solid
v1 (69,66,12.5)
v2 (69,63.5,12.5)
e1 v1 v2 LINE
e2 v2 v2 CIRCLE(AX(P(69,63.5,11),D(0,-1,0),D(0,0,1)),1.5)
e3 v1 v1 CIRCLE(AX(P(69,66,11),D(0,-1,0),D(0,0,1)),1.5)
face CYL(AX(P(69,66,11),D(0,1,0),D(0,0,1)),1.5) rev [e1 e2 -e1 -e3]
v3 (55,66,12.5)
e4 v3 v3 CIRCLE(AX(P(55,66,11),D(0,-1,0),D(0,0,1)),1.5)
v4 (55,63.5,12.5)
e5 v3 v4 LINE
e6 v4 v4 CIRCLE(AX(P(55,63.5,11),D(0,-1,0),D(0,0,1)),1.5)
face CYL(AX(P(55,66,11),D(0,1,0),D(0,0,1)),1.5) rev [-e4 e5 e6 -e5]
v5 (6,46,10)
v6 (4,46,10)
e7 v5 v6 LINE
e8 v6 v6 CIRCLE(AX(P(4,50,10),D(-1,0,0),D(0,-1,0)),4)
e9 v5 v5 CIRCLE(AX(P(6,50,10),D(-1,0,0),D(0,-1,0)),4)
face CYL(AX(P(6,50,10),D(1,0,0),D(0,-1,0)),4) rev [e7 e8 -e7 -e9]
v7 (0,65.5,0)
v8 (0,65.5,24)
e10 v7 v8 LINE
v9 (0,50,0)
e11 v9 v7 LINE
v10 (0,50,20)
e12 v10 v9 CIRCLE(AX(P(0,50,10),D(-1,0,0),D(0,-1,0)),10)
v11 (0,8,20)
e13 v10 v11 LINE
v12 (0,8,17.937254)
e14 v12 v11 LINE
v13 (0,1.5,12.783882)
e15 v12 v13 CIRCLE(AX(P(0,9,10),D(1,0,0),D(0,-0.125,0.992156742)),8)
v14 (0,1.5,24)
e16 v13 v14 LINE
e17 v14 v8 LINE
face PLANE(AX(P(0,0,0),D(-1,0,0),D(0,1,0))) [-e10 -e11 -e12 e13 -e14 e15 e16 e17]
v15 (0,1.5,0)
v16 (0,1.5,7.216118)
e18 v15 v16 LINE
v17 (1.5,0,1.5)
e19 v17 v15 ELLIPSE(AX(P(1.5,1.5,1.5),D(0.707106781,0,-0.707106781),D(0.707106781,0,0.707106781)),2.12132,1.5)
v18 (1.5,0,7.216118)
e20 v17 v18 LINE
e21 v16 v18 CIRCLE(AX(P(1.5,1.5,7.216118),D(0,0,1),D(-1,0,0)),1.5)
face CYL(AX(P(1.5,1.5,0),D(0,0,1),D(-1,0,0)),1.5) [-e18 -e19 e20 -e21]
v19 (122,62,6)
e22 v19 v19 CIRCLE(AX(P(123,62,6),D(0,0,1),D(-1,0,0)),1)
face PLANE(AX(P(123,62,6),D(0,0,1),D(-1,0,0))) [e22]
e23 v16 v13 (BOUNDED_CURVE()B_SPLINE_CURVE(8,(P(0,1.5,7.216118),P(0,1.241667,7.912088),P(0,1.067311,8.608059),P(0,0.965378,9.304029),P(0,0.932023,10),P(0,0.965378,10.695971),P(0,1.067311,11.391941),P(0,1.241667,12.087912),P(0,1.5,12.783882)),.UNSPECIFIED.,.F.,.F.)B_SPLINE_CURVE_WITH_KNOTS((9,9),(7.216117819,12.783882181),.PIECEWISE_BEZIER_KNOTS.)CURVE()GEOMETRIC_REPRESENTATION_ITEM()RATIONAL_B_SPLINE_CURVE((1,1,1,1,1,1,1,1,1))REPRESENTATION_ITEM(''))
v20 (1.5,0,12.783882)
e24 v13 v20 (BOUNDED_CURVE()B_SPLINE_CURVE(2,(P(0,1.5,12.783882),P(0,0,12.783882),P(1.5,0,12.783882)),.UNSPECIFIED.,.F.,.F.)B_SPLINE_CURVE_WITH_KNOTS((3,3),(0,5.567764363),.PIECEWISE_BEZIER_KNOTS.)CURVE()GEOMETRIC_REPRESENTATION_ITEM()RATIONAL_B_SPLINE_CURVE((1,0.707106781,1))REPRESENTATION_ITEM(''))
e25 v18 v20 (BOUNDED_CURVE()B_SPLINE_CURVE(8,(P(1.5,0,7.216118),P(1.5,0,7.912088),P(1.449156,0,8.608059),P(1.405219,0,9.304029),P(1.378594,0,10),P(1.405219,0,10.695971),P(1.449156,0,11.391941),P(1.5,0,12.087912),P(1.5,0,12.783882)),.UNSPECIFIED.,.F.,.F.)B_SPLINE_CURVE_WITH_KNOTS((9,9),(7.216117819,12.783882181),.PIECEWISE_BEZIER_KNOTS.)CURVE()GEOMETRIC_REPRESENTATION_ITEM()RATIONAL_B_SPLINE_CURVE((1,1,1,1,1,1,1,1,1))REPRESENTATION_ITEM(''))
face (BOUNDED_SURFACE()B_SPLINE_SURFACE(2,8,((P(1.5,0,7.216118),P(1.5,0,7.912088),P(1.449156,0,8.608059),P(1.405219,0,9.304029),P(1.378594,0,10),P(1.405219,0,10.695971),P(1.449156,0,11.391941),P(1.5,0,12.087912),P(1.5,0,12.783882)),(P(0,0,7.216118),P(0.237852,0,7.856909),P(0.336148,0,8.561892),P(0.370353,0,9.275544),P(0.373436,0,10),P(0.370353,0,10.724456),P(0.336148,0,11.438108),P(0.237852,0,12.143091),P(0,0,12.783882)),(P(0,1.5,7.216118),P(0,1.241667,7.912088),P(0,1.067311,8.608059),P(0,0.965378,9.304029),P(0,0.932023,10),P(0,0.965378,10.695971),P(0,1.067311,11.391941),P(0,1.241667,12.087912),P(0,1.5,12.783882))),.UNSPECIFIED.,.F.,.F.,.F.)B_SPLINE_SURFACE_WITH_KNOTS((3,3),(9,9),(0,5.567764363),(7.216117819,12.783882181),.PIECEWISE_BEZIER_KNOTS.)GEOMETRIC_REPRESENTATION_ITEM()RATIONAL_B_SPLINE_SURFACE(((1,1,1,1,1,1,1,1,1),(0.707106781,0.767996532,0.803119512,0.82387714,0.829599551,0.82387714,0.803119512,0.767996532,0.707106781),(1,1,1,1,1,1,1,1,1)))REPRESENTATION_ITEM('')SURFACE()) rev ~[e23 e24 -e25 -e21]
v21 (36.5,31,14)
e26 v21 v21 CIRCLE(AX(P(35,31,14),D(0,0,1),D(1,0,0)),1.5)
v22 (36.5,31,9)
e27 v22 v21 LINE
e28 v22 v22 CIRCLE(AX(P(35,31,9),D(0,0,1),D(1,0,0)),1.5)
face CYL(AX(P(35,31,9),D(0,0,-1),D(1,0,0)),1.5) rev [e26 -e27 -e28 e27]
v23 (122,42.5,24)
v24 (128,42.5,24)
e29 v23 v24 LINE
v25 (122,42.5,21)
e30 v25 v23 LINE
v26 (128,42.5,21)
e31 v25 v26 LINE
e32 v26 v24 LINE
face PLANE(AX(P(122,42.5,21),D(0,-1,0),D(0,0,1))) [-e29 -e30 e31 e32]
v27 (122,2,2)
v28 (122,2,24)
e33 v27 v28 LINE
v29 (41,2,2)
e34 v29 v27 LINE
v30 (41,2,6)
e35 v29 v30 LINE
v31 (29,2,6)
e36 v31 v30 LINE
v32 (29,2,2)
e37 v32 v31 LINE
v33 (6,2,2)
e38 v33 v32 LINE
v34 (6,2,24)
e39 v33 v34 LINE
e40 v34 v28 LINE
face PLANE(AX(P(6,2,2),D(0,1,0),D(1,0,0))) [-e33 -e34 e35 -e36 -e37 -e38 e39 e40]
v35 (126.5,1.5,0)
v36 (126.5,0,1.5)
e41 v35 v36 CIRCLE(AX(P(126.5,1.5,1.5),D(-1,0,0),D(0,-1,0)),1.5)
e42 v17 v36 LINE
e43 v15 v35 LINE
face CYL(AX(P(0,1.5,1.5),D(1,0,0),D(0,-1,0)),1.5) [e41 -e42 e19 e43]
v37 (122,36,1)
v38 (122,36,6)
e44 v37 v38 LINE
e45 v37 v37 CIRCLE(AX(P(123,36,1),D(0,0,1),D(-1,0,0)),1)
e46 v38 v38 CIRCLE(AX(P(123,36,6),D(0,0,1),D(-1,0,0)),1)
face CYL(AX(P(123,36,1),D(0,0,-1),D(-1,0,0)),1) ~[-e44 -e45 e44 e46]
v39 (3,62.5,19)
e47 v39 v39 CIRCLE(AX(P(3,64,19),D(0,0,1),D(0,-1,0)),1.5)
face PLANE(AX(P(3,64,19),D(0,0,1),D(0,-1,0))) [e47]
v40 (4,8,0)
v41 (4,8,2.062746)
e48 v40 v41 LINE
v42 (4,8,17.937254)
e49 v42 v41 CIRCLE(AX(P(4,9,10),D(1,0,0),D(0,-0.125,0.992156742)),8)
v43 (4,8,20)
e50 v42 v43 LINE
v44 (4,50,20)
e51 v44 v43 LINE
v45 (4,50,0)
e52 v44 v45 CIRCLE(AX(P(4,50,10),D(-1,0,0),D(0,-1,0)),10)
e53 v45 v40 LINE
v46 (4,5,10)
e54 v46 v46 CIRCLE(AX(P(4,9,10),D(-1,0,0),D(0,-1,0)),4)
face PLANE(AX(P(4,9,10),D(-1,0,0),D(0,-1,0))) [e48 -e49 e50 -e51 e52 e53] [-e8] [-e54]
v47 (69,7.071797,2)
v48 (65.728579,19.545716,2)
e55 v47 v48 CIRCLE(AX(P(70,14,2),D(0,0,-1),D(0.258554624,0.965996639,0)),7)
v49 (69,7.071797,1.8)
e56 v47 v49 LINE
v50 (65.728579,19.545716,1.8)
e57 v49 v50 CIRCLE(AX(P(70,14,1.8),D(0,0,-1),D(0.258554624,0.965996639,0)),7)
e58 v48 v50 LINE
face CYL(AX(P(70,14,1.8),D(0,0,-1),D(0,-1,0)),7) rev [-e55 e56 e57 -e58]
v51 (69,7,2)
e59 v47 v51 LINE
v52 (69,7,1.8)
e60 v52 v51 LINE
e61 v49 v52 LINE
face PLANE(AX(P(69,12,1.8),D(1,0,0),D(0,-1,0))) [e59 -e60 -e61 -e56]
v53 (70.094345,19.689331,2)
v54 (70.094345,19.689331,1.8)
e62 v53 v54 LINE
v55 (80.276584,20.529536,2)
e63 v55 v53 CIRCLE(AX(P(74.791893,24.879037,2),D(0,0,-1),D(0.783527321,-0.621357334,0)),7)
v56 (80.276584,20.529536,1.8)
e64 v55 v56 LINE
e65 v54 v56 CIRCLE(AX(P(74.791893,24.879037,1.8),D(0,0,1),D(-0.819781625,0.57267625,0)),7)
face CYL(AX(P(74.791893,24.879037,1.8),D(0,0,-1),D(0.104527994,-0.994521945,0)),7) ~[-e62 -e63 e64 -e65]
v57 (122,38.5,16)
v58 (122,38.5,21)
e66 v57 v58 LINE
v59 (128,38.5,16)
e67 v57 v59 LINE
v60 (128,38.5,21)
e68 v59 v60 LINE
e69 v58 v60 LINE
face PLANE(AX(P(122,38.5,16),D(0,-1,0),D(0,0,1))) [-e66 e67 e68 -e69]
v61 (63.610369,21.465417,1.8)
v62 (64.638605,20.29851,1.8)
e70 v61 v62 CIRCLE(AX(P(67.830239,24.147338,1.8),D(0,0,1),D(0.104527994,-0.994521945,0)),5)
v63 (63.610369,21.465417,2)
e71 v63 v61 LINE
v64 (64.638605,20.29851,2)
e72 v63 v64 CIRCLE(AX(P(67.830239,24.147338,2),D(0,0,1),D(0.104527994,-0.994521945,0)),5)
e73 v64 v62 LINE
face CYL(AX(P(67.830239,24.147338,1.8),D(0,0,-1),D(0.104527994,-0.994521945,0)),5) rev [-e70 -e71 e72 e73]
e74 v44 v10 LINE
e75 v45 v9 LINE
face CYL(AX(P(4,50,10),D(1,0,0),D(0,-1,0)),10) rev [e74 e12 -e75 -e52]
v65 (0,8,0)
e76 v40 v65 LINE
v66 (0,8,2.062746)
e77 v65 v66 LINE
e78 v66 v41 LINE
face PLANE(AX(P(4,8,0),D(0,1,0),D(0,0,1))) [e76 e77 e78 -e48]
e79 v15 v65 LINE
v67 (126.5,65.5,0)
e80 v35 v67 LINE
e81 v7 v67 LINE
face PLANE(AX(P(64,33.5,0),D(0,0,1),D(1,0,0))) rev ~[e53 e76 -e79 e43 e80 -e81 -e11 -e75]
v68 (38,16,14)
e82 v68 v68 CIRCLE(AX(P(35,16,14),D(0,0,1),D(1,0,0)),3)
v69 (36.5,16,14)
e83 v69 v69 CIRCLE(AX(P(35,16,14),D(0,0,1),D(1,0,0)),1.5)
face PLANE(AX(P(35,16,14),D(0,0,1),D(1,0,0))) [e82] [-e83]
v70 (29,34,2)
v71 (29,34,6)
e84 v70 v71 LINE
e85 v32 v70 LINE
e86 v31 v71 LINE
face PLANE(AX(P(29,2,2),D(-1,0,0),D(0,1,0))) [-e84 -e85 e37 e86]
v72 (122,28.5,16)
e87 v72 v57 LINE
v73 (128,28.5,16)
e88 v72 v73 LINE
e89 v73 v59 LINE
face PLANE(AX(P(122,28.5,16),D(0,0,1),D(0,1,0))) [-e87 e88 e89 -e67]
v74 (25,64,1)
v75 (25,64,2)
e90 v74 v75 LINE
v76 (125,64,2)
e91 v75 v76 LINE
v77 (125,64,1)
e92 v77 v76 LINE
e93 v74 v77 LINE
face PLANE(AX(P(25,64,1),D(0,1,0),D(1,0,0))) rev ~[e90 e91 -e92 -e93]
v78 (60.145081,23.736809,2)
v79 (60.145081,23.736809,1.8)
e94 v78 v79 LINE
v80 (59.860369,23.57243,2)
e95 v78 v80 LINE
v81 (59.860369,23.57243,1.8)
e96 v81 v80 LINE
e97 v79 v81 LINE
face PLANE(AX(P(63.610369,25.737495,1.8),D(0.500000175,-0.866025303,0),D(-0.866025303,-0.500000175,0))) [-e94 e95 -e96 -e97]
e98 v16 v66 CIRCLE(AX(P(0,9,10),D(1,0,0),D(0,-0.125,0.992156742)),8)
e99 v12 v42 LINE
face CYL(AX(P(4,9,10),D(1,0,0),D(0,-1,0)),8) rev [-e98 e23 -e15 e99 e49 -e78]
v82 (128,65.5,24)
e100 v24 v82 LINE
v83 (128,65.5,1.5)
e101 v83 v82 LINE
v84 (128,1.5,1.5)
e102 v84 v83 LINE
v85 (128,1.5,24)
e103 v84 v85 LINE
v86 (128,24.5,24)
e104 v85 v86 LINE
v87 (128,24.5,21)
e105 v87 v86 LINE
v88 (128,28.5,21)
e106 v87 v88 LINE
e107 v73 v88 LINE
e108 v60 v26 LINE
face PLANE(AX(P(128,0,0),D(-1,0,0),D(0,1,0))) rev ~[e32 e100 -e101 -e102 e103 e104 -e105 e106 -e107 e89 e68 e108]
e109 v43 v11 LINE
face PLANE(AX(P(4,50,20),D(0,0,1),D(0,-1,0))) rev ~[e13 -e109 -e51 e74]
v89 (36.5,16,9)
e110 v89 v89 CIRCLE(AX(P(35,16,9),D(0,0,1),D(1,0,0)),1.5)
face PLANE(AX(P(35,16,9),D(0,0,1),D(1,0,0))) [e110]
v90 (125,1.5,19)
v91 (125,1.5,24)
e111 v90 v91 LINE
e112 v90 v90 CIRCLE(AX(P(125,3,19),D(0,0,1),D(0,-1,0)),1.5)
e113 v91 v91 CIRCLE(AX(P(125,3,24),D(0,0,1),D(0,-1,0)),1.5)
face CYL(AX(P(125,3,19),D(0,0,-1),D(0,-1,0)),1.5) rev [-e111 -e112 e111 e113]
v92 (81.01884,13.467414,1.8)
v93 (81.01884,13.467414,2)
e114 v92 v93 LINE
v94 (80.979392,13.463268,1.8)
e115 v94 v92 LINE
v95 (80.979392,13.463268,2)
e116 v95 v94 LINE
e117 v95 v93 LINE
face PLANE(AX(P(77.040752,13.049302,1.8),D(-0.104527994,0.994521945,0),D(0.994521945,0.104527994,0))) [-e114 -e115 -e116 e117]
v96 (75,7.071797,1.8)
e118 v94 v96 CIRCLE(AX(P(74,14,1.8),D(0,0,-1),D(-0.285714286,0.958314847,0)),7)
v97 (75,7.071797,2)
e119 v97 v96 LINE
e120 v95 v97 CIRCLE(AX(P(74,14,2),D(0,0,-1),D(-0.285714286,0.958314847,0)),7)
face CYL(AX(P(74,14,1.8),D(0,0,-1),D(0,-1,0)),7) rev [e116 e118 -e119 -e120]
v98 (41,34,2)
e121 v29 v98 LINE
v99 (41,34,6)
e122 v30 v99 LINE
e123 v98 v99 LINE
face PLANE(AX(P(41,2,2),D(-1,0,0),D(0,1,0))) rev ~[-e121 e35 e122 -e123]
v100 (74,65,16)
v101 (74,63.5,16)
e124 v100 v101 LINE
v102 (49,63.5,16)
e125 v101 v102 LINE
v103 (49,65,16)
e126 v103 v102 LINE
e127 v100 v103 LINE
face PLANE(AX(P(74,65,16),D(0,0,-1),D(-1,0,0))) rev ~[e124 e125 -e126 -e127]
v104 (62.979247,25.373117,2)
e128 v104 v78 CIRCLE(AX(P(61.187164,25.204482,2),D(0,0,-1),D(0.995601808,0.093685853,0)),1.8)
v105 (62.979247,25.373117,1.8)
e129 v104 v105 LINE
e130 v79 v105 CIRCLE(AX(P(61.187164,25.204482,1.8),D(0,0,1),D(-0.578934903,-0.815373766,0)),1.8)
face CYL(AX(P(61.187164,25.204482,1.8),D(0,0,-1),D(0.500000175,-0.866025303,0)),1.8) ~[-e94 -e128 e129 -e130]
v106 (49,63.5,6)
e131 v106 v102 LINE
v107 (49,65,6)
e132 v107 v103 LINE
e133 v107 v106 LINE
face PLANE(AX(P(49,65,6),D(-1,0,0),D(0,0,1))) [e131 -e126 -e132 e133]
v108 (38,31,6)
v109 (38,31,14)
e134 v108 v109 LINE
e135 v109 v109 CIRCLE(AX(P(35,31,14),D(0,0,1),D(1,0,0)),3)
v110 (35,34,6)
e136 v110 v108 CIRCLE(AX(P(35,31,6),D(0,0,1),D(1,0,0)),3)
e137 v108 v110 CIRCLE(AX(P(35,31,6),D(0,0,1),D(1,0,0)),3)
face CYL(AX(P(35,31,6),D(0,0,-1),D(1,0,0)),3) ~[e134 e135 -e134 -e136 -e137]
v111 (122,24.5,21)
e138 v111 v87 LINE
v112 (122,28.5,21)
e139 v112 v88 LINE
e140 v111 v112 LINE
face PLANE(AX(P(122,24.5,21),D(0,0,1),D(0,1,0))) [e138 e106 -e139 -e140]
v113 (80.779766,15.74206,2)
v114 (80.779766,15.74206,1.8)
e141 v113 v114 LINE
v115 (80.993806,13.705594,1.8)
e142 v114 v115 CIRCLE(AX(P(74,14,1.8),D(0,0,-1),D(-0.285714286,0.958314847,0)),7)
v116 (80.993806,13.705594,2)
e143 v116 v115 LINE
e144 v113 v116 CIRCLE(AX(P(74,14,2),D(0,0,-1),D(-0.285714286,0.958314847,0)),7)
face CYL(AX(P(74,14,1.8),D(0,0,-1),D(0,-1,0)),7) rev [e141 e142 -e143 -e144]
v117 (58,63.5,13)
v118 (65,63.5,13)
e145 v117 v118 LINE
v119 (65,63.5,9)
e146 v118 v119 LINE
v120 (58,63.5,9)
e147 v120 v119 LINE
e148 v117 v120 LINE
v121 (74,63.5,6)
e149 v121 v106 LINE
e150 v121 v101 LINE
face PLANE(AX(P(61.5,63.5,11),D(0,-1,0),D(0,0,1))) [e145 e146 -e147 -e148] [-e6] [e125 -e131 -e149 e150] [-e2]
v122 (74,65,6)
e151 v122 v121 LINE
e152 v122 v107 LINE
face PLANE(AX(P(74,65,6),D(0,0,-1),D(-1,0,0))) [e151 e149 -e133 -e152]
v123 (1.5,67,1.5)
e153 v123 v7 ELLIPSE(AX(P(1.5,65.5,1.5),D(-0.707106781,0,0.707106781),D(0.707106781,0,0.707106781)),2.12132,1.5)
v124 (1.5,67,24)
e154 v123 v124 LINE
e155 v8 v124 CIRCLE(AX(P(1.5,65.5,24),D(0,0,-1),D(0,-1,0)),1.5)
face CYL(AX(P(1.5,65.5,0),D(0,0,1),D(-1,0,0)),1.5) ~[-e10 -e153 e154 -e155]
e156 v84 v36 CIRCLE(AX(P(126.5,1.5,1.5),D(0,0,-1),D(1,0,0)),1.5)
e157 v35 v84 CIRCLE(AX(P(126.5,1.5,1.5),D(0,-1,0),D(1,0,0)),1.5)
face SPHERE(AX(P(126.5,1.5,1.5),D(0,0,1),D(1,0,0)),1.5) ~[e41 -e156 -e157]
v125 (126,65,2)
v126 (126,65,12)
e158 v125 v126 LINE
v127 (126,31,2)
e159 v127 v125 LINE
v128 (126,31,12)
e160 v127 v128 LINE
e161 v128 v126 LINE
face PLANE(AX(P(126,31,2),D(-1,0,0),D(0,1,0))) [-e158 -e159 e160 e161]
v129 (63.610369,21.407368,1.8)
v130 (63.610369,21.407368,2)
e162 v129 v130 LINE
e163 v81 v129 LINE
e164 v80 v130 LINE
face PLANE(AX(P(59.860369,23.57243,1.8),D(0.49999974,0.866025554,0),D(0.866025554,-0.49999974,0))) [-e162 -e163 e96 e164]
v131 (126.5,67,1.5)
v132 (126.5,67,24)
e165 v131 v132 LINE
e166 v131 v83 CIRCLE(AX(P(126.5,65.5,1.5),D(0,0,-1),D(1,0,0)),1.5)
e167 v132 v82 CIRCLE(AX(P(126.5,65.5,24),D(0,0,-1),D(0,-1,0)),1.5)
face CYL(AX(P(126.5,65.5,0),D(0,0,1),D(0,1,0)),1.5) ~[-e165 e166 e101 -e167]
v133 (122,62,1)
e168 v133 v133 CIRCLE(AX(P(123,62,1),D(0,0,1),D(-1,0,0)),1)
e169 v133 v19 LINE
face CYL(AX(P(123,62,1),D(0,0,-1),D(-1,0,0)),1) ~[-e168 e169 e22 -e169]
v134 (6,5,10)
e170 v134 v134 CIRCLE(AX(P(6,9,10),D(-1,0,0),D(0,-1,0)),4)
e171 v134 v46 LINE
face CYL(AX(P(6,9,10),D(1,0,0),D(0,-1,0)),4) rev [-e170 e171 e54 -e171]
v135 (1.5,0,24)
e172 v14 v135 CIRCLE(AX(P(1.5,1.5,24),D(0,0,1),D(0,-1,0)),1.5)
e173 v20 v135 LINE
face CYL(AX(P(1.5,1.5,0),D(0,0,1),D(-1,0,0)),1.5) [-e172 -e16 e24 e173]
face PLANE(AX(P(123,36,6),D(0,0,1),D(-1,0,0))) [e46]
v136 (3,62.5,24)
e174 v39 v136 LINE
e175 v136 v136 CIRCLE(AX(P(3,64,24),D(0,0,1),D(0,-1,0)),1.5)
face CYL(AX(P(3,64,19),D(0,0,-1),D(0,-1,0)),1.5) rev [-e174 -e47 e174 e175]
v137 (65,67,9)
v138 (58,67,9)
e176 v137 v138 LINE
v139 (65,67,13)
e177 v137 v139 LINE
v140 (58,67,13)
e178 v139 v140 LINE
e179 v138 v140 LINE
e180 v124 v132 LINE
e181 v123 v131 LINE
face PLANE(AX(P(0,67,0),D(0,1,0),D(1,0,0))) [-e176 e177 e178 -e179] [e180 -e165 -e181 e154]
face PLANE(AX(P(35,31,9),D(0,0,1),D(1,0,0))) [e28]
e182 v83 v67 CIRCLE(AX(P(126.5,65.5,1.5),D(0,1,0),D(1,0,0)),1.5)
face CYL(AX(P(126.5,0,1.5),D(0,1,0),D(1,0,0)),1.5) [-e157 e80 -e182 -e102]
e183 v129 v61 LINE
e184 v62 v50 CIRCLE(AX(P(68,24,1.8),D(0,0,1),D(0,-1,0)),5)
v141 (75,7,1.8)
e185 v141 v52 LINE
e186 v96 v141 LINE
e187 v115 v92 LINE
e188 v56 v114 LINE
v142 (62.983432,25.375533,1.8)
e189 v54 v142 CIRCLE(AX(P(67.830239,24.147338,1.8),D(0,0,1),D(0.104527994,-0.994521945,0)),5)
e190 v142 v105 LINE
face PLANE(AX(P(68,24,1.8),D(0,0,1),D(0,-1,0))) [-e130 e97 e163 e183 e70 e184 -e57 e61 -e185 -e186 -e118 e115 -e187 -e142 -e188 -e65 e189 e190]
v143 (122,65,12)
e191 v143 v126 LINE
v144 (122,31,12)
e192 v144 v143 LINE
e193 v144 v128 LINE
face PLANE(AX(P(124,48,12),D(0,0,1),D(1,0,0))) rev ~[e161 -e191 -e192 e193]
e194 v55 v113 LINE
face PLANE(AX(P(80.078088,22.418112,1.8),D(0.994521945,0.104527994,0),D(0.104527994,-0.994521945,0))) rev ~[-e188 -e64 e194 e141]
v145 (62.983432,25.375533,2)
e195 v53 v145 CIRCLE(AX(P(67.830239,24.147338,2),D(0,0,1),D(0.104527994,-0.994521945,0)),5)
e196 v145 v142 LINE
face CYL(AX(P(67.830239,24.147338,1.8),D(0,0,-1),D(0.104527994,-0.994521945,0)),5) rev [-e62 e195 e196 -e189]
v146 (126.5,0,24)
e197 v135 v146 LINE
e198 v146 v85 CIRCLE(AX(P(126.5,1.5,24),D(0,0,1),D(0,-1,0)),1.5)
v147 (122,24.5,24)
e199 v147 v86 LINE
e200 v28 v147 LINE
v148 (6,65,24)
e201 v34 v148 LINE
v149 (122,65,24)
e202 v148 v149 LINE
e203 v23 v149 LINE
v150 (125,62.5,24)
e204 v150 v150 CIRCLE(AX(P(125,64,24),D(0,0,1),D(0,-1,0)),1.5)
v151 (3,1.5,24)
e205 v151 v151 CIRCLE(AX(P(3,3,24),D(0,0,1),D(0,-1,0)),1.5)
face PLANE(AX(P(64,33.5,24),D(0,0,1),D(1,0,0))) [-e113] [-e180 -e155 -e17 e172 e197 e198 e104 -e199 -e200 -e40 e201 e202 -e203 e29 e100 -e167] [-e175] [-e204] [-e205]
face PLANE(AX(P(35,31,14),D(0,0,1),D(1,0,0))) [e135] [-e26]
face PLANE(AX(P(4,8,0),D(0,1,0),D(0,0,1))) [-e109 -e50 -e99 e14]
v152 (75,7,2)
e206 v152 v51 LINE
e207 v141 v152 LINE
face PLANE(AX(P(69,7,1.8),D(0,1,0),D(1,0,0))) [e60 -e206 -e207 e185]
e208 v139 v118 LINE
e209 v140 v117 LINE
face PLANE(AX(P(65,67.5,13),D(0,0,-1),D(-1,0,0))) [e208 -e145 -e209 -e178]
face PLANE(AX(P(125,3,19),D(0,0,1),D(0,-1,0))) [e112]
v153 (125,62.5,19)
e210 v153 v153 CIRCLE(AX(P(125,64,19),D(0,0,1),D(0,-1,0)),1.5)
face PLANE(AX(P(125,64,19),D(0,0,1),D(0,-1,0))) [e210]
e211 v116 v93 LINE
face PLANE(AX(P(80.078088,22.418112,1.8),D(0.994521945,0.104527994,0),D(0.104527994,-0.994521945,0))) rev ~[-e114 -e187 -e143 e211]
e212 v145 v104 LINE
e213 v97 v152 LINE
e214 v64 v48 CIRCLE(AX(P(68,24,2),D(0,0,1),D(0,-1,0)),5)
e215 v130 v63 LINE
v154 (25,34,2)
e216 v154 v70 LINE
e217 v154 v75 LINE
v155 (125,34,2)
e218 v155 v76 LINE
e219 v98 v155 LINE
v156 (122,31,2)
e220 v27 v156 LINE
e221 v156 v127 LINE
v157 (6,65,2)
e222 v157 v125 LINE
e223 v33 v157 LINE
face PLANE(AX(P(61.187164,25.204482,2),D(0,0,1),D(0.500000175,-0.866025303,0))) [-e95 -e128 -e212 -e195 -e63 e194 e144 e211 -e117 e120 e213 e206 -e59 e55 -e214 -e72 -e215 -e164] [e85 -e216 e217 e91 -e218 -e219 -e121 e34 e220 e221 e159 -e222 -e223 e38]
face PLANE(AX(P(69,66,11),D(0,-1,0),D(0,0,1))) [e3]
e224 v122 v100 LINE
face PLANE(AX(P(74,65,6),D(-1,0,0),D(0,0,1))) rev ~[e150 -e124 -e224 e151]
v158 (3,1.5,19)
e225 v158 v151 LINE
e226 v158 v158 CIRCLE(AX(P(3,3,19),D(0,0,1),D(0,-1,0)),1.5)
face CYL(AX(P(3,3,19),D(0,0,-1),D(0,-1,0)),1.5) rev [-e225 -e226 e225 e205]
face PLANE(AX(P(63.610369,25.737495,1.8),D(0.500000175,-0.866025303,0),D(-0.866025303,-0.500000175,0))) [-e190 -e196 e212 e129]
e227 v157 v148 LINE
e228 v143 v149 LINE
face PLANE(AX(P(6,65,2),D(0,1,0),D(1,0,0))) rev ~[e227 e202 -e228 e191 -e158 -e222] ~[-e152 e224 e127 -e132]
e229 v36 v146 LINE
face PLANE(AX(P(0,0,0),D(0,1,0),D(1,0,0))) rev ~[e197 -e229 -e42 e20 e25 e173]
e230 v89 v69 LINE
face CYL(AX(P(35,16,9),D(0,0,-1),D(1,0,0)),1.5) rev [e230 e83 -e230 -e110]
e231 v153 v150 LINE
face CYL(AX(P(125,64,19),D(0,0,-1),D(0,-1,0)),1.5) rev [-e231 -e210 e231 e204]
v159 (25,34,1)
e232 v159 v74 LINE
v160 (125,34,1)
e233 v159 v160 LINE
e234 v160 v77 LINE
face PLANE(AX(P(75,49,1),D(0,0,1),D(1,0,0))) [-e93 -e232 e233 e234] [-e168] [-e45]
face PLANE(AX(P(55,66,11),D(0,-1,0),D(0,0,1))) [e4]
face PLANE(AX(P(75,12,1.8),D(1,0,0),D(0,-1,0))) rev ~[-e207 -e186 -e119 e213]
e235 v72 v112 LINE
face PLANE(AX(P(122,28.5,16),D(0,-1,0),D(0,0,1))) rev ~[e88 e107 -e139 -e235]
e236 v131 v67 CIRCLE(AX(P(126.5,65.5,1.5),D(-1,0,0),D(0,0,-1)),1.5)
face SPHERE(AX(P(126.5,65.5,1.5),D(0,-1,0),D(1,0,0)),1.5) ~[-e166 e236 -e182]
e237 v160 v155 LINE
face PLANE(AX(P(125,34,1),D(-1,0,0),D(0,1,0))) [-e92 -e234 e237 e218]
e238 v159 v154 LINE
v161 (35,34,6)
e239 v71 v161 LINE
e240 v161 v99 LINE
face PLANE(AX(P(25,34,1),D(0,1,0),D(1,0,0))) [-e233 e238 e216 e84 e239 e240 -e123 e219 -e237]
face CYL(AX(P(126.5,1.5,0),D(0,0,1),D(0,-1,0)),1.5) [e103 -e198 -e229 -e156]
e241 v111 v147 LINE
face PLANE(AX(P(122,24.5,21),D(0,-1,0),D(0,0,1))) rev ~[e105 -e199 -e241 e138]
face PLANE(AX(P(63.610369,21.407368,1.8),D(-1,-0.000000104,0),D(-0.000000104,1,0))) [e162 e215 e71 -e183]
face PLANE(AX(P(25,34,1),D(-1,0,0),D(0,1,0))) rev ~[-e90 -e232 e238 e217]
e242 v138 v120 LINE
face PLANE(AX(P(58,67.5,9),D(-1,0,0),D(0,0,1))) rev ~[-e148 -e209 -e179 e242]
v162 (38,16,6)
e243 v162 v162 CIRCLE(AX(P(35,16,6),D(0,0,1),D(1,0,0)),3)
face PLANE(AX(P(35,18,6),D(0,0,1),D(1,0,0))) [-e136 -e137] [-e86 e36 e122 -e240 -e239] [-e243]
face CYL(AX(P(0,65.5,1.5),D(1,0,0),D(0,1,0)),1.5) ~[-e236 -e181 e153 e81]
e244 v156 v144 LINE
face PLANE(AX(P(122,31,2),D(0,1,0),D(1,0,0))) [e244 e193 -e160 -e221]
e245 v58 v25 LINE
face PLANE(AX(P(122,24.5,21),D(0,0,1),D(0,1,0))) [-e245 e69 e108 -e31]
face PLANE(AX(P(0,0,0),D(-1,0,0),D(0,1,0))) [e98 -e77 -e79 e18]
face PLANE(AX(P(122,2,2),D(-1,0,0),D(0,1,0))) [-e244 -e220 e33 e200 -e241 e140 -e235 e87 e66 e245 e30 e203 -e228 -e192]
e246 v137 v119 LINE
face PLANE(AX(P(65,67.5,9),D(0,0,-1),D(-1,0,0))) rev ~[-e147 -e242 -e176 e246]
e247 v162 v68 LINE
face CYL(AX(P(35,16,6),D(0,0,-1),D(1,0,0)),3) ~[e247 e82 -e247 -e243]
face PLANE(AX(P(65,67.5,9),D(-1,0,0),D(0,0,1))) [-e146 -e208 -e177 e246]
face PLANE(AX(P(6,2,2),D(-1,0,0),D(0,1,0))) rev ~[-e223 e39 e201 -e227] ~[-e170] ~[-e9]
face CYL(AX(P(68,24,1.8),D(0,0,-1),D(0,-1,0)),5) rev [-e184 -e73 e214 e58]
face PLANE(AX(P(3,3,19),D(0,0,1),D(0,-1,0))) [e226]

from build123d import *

# Parameters (mm, degrees)
BOX_W             = 128
BOX_H             = 67
BOX_DEPTH         = 24
BOX001_W          = 116
BOX001_H          = 63
BOX001_DEPTH      = 22
BOX002_W          = 4
BOX002_H          = 34
BOX002_DEPTH      = 10
BOX003_W          = 100
BOX003_H          = 30
BOX003_DEPTH      = 1
BOX004_W          = 12
BOX004_H          = 32
BOX004_DEPTH      = 4
CYLINDER_R        = 3
CYLINDER_DEPTH    = 8
CYLINDER001_R     = 3
CYLINDER001_DEPTH = 8
CYLINDER002_R     = 1.5
CYLINDER002_DEPTH = 5
CYLINDER003_R     = 1.5
CYLINDER003_DEPTH = 5
BOX005_W          = 42
BOX005_H          = 20
BOX005_DEPTH      = 4
CYLINDER004_R     = 4
CYLINDER004_DEPTH = 6
CYLINDER005_R     = 4
CYLINDER005_DEPTH = 6
CYLINDER006_R     = 10
CYLINDER006_DEPTH = 4
CYLINDER007_R     = 8
CYLINDER007_DEPTH = 4
BOX006_W          = 10
BOX006_H          = 25
BOX006_DEPTH      = 1.5
BOX007_W          = 4
BOX007_H          = 7
BOX007_DEPTH      = 6
CYLINDER008_R     = 1.5
CYLINDER008_DEPTH = 2.5
CYLINDER009_R     = 1.5
CYLINDER009_DEPTH = 2.5
CYLINDER010_R     = 1
CYLINDER010_DEPTH = 5
CYLINDER011_R     = 1
CYLINDER011_DEPTH = 5
BOX008_W          = 18
BOX008_H          = 3
BOX008_DEPTH      = 6
BOX009_W          = 10
BOX009_H          = 5
BOX009_DEPTH      = 6
CYLINDER012_R     = 1.5
CYLINDER012_DEPTH = 5
CYLINDER013_R     = 1.5
CYLINDER013_DEPTH = 5
CYLINDER014_R     = 1.5
CYLINDER014_DEPTH = 5
CYLINDER015_R     = 1.5
CYLINDER015_DEPTH = 5
FILLET_R          = 1.5
CYLINDER016_R     = 5
CYLINDER016_DEPTH = 0.2
CYLINDER017_R     = 7
CYLINDER017_DEPTH = 0.2
CYLINDER018_R     = 7
CYLINDER018_DEPTH = 0.2
BOX010_W          = 5
BOX010_H          = 6
BOX010_DEPTH      = 0.2
BOX011_W          = 9
BOX011_H          = 4
BOX011_DEPTH      = 0.2
CYLINDER019_R     = 7
CYLINDER019_DEPTH = 0.2
CYLINDER020_R     = 5
CYLINDER020_DEPTH = 0.2
PRISM_DEPTH       = 0.2
CYLINDER021_R     = 1.8
CYLINDER021_DEPTH = 0.2


with BuildPart() as part:
    # Box → Box (join)
    with BuildSketch(Plane.XY):
        with Locations((64, 33.5)):
            Rectangle(BOX_W, BOX_H)
    extrude(amount=BOX_DEPTH)

    # Box001 → Box001 (cut)
    with BuildSketch(Plane(origin=(6, 2, 2), x_dir=(1, 0, 0), z_dir=(0, 0, 1))):
        with Locations((58, 31.5)):
            Rectangle(BOX001_W, BOX001_H)
    extrude(amount=BOX001_DEPTH, mode=Mode.SUBTRACT)

    # Box002 → Box002 (cut)
    with BuildSketch(Plane(origin=(122, 31, 2), x_dir=(1, 0, 0), z_dir=(0, 0, 1))):
        with Locations((2, 17)):
            Rectangle(BOX002_W, BOX002_H)
    extrude(amount=BOX002_DEPTH, mode=Mode.SUBTRACT)

    # Box003 → Box003 (cut)
    with BuildSketch(Plane(origin=(25, 34, 1), x_dir=(1, 0, 0), z_dir=(0, 0, 1))):
        with Locations((50, 15)):
            Rectangle(BOX003_W, BOX003_H)
    extrude(amount=BOX003_DEPTH, mode=Mode.SUBTRACT)

    # Box004 → Box004 (join)
    with BuildSketch(Plane(origin=(29, 2, 2), x_dir=(1, 0, 0), z_dir=(0, 0, 1))):
        with Locations((6, 16)):
            Rectangle(BOX004_W, BOX004_H)
    extrude(amount=BOX004_DEPTH)

    # Cylinder → Cylinder (join)
    with BuildSketch(Plane(origin=(35, 16, 6), x_dir=(1, 0, 0), z_dir=(0, 0, 1))):
        Circle(CYLINDER_R)
    extrude(amount=CYLINDER_DEPTH)

    # Cylinder001 → Cylinder001 (join)
    with BuildSketch(Plane(origin=(35, 31, 6), x_dir=(1, 0, 0), z_dir=(0, 0, 1))):
        Circle(CYLINDER001_R)
    extrude(amount=CYLINDER001_DEPTH)

    # Cylinder002 → Cylinder002 (cut)
    with BuildSketch(Plane(origin=(35, 31, 9), x_dir=(1, 0, 0), z_dir=(0, 0, 1))):
        Circle(CYLINDER002_R)
    extrude(amount=CYLINDER002_DEPTH, mode=Mode.SUBTRACT)

    # Cylinder003 → Cylinder003 (cut)
    with BuildSketch(Plane(origin=(35, 16, 9), x_dir=(1, 0, 0), z_dir=(0, 0, 1))):
        Circle(CYLINDER003_R)
    extrude(amount=CYLINDER003_DEPTH, mode=Mode.SUBTRACT)

    # Box005 → Box005 (cut)
    with BuildSketch(Plane(origin=(4, 50, 0), x_dir=(0, -1, 0), z_dir=(-1, 0, 0))):
        with Locations((21, 10)):
            Rectangle(BOX005_W, BOX005_H)
    extrude(amount=BOX005_DEPTH, mode=Mode.SUBTRACT)

    # Cylinder004 → Cylinder004 (cut)
    with BuildSketch(Plane(origin=(6, 50, 10), x_dir=(0, -1, 0), z_dir=(-1, 0, 0))):
        Circle(CYLINDER004_R)
    extrude(amount=CYLINDER004_DEPTH, mode=Mode.SUBTRACT)

    # Cylinder005 → Cylinder005 (cut)
    with BuildSketch(Plane(origin=(6, 9, 10), x_dir=(0, -1, 0), z_dir=(-1, 0, 0))):
        Circle(CYLINDER005_R)
    extrude(amount=CYLINDER005_DEPTH, mode=Mode.SUBTRACT)

    # Cylinder006 → Cylinder006 (cut)
    with BuildSketch(Plane(origin=(4, 50, 10), x_dir=(0, -1, 0), z_dir=(-1, 0, 0))):
        Circle(CYLINDER006_R)
    extrude(amount=CYLINDER006_DEPTH, mode=Mode.SUBTRACT)

    # Cylinder007 → Cylinder007 (cut)
    with BuildSketch(Plane(origin=(4, 9, 10), x_dir=(0, -1, 0), z_dir=(-1, 0, 0))):
        Circle(CYLINDER007_R)
    extrude(amount=CYLINDER007_DEPTH, mode=Mode.SUBTRACT)

    # Box006 → Box006 (join)
    with BuildSketch(Plane(origin=(74, 65, 6), x_dir=(0, 0, 1), z_dir=(0, -1, 0))):
        with Locations((5, 12.5)):
            Rectangle(BOX006_W, BOX006_H)
    extrude(amount=BOX006_DEPTH)

    # Box007 → Box007 (cut)
    with BuildSketch(Plane(origin=(65, 67.5, 9), x_dir=(0, 0, 1), z_dir=(0, -1, 0))):
        with Locations((2, 3.5)):
            Rectangle(BOX007_W, BOX007_H)
    extrude(amount=BOX007_DEPTH, mode=Mode.SUBTRACT)

    # Cylinder008 → Cylinder008 (cut)
    with BuildSketch(Plane(origin=(69, 66, 11), x_dir=(0, 0, 1), z_dir=(0, -1, 0))):
        Circle(CYLINDER008_R)
    extrude(amount=CYLINDER008_DEPTH, mode=Mode.SUBTRACT)

    # Cylinder009 → Cylinder009 (cut)
    with BuildSketch(Plane(origin=(55, 66, 11), x_dir=(0, 0, 1), z_dir=(0, -1, 0))):
        Circle(CYLINDER009_R)
    extrude(amount=CYLINDER009_DEPTH, mode=Mode.SUBTRACT)

    # Cylinder010 → Cylinder010 (join)
    with BuildSketch(Plane(origin=(123, 36, 1), x_dir=(-1, 0, 0), z_dir=(0, 0, 1))):
        Circle(CYLINDER010_R)
    extrude(amount=CYLINDER010_DEPTH)

    # Cylinder011 → Cylinder011 (join)
    with BuildSketch(Plane(origin=(123, 62, 1), x_dir=(-1, 0, 0), z_dir=(0, 0, 1))):
        Circle(CYLINDER011_R)
    extrude(amount=CYLINDER011_DEPTH)

    # Box008 → Box008 (cut)
    with BuildSketch(Plane(origin=(122, 24.5, 21), x_dir=(0, 1, 0), z_dir=(1, 0, 0))):
        with Locations((9, 1.5)):
            Rectangle(BOX008_W, BOX008_H)
    extrude(amount=BOX008_DEPTH, mode=Mode.SUBTRACT)

    # Box009 → Box009 (cut)
    with BuildSketch(Plane(origin=(122, 28.5, 16), x_dir=(0, 1, 0), z_dir=(1, 0, 0))):
        with Locations((5, 2.5)):
            Rectangle(BOX009_W, BOX009_H)
    extrude(amount=BOX009_DEPTH, mode=Mode.SUBTRACT)

    # Cylinder012 → Cylinder012 (cut)
    with BuildSketch(Plane(origin=(3, 3, 19), x_dir=(0, -1, 0), z_dir=(0, 0, 1))):
        Circle(CYLINDER012_R)
    extrude(amount=CYLINDER012_DEPTH, mode=Mode.SUBTRACT)

    # Cylinder013 → Cylinder013 (cut)
    with BuildSketch(Plane(origin=(3, 64, 19), x_dir=(0, -1, 0), z_dir=(0, 0, 1))):
        Circle(CYLINDER013_R)
    extrude(amount=CYLINDER013_DEPTH, mode=Mode.SUBTRACT)

    # Cylinder014 → Cylinder014 (cut)
    with BuildSketch(Plane(origin=(125, 64, 19), x_dir=(0, -1, 0), z_dir=(0, 0, 1))):
        Circle(CYLINDER014_R)
    extrude(amount=CYLINDER014_DEPTH, mode=Mode.SUBTRACT)

    # Cylinder015 → Cylinder015 (cut)
    with BuildSketch(Plane(origin=(125, 3, 19), x_dir=(0, -1, 0), z_dir=(0, 0, 1))):
        Circle(CYLINDER015_R)
    extrude(amount=CYLINDER015_DEPTH, mode=Mode.SUBTRACT)

    # Fillet
    fillet_edges = [part.edges().sort_by_distance(p)[0] for p in [
        (128, 0, 12),
        (128, 33.5, 0),
        (128, 67, 12),
        (64, 67, 0),
        (64, 0, 0),
        (0, 67, 12),
        (0, 0, 12),
    ]]
    fillet(fillet_edges, radius=FILLET_R)

    # Cylinder016 → Cylinder016 (cut)
    with BuildSketch(Plane(origin=(68, 24, 1.8), x_dir=(0, -1, 0), z_dir=(0, 0, 1))):
        Circle(CYLINDER016_R)
    extrude(amount=CYLINDER016_DEPTH, mode=Mode.SUBTRACT)

    # Cylinder017 → Cylinder017 (cut)
    with BuildSketch(Plane(origin=(70, 14, 1.8), x_dir=(0, -1, 0), z_dir=(0, 0, 1))):
        Circle(CYLINDER017_R)
    extrude(amount=CYLINDER017_DEPTH, mode=Mode.SUBTRACT)

    # Cylinder018 → Cylinder018 (cut)
    with BuildSketch(Plane(origin=(74, 14, 1.8), x_dir=(0, -1, 0), z_dir=(0, 0, 1))):
        Circle(CYLINDER018_R)
    extrude(amount=CYLINDER018_DEPTH, mode=Mode.SUBTRACT)

    # Box010 → Box010 (cut)
    with BuildSketch(Plane(origin=(69, 12, 1.8), x_dir=(0, -1, 0), z_dir=(0, 0, 1))):
        with Locations((2.5, 3)):
            Rectangle(BOX010_W, BOX010_H)
    extrude(amount=BOX010_DEPTH, mode=Mode.SUBTRACT)

    # Box011 → Box011 (cut)
    with BuildSketch(Plane(origin=(76.1, 22, 1.8), x_dir=(0.104528, -0.994522, 0), z_dir=(0, 0, 1))):
        with Locations((4.5, 2)):
            Rectangle(BOX011_W, BOX011_H)
    extrude(amount=BOX011_DEPTH, mode=Mode.SUBTRACT)

    # Cylinder019 → Cylinder019 (join)
    with BuildSketch(Plane(origin=(74.791893, 24.879037, 1.8), x_dir=(0.104528, -0.994522, 0), z_dir=(0, 0, 1))):
        Circle(CYLINDER019_R)
    extrude(amount=CYLINDER019_DEPTH)

    # Cylinder020 → Cylinder020 (cut)
    with BuildSketch(Plane(origin=(67.830239, 24.147338, 1.8), x_dir=(0.104528, -0.994522, 0), z_dir=(0, 0, 1))):
        Circle(CYLINDER020_R)
    extrude(amount=CYLINDER020_DEPTH, mode=Mode.SUBTRACT)

    # Prism → Prism (cut)
    with BuildSketch(Plane(origin=(62.360369, 23.572431, 1.8), x_dir=(0.5, -0.866025, 0), z_dir=(0, 0, 1))):
        Polygon((2.5, 0), (-1.25, 2.165064), (-1.25, -2.165064), align=None)
    extrude(amount=PRISM_DEPTH, mode=Mode.SUBTRACT)

    # Cylinder021 → Cylinder021 (join)
    with BuildSketch(Plane(origin=(61.187164, 25.204482, 1.8), x_dir=(0.5, -0.866025, 0), z_dir=(0, 0, 1))):
        Circle(CYLINDER021_R)
    extrude(amount=CYLINDER021_DEPTH)


solid = part.part
